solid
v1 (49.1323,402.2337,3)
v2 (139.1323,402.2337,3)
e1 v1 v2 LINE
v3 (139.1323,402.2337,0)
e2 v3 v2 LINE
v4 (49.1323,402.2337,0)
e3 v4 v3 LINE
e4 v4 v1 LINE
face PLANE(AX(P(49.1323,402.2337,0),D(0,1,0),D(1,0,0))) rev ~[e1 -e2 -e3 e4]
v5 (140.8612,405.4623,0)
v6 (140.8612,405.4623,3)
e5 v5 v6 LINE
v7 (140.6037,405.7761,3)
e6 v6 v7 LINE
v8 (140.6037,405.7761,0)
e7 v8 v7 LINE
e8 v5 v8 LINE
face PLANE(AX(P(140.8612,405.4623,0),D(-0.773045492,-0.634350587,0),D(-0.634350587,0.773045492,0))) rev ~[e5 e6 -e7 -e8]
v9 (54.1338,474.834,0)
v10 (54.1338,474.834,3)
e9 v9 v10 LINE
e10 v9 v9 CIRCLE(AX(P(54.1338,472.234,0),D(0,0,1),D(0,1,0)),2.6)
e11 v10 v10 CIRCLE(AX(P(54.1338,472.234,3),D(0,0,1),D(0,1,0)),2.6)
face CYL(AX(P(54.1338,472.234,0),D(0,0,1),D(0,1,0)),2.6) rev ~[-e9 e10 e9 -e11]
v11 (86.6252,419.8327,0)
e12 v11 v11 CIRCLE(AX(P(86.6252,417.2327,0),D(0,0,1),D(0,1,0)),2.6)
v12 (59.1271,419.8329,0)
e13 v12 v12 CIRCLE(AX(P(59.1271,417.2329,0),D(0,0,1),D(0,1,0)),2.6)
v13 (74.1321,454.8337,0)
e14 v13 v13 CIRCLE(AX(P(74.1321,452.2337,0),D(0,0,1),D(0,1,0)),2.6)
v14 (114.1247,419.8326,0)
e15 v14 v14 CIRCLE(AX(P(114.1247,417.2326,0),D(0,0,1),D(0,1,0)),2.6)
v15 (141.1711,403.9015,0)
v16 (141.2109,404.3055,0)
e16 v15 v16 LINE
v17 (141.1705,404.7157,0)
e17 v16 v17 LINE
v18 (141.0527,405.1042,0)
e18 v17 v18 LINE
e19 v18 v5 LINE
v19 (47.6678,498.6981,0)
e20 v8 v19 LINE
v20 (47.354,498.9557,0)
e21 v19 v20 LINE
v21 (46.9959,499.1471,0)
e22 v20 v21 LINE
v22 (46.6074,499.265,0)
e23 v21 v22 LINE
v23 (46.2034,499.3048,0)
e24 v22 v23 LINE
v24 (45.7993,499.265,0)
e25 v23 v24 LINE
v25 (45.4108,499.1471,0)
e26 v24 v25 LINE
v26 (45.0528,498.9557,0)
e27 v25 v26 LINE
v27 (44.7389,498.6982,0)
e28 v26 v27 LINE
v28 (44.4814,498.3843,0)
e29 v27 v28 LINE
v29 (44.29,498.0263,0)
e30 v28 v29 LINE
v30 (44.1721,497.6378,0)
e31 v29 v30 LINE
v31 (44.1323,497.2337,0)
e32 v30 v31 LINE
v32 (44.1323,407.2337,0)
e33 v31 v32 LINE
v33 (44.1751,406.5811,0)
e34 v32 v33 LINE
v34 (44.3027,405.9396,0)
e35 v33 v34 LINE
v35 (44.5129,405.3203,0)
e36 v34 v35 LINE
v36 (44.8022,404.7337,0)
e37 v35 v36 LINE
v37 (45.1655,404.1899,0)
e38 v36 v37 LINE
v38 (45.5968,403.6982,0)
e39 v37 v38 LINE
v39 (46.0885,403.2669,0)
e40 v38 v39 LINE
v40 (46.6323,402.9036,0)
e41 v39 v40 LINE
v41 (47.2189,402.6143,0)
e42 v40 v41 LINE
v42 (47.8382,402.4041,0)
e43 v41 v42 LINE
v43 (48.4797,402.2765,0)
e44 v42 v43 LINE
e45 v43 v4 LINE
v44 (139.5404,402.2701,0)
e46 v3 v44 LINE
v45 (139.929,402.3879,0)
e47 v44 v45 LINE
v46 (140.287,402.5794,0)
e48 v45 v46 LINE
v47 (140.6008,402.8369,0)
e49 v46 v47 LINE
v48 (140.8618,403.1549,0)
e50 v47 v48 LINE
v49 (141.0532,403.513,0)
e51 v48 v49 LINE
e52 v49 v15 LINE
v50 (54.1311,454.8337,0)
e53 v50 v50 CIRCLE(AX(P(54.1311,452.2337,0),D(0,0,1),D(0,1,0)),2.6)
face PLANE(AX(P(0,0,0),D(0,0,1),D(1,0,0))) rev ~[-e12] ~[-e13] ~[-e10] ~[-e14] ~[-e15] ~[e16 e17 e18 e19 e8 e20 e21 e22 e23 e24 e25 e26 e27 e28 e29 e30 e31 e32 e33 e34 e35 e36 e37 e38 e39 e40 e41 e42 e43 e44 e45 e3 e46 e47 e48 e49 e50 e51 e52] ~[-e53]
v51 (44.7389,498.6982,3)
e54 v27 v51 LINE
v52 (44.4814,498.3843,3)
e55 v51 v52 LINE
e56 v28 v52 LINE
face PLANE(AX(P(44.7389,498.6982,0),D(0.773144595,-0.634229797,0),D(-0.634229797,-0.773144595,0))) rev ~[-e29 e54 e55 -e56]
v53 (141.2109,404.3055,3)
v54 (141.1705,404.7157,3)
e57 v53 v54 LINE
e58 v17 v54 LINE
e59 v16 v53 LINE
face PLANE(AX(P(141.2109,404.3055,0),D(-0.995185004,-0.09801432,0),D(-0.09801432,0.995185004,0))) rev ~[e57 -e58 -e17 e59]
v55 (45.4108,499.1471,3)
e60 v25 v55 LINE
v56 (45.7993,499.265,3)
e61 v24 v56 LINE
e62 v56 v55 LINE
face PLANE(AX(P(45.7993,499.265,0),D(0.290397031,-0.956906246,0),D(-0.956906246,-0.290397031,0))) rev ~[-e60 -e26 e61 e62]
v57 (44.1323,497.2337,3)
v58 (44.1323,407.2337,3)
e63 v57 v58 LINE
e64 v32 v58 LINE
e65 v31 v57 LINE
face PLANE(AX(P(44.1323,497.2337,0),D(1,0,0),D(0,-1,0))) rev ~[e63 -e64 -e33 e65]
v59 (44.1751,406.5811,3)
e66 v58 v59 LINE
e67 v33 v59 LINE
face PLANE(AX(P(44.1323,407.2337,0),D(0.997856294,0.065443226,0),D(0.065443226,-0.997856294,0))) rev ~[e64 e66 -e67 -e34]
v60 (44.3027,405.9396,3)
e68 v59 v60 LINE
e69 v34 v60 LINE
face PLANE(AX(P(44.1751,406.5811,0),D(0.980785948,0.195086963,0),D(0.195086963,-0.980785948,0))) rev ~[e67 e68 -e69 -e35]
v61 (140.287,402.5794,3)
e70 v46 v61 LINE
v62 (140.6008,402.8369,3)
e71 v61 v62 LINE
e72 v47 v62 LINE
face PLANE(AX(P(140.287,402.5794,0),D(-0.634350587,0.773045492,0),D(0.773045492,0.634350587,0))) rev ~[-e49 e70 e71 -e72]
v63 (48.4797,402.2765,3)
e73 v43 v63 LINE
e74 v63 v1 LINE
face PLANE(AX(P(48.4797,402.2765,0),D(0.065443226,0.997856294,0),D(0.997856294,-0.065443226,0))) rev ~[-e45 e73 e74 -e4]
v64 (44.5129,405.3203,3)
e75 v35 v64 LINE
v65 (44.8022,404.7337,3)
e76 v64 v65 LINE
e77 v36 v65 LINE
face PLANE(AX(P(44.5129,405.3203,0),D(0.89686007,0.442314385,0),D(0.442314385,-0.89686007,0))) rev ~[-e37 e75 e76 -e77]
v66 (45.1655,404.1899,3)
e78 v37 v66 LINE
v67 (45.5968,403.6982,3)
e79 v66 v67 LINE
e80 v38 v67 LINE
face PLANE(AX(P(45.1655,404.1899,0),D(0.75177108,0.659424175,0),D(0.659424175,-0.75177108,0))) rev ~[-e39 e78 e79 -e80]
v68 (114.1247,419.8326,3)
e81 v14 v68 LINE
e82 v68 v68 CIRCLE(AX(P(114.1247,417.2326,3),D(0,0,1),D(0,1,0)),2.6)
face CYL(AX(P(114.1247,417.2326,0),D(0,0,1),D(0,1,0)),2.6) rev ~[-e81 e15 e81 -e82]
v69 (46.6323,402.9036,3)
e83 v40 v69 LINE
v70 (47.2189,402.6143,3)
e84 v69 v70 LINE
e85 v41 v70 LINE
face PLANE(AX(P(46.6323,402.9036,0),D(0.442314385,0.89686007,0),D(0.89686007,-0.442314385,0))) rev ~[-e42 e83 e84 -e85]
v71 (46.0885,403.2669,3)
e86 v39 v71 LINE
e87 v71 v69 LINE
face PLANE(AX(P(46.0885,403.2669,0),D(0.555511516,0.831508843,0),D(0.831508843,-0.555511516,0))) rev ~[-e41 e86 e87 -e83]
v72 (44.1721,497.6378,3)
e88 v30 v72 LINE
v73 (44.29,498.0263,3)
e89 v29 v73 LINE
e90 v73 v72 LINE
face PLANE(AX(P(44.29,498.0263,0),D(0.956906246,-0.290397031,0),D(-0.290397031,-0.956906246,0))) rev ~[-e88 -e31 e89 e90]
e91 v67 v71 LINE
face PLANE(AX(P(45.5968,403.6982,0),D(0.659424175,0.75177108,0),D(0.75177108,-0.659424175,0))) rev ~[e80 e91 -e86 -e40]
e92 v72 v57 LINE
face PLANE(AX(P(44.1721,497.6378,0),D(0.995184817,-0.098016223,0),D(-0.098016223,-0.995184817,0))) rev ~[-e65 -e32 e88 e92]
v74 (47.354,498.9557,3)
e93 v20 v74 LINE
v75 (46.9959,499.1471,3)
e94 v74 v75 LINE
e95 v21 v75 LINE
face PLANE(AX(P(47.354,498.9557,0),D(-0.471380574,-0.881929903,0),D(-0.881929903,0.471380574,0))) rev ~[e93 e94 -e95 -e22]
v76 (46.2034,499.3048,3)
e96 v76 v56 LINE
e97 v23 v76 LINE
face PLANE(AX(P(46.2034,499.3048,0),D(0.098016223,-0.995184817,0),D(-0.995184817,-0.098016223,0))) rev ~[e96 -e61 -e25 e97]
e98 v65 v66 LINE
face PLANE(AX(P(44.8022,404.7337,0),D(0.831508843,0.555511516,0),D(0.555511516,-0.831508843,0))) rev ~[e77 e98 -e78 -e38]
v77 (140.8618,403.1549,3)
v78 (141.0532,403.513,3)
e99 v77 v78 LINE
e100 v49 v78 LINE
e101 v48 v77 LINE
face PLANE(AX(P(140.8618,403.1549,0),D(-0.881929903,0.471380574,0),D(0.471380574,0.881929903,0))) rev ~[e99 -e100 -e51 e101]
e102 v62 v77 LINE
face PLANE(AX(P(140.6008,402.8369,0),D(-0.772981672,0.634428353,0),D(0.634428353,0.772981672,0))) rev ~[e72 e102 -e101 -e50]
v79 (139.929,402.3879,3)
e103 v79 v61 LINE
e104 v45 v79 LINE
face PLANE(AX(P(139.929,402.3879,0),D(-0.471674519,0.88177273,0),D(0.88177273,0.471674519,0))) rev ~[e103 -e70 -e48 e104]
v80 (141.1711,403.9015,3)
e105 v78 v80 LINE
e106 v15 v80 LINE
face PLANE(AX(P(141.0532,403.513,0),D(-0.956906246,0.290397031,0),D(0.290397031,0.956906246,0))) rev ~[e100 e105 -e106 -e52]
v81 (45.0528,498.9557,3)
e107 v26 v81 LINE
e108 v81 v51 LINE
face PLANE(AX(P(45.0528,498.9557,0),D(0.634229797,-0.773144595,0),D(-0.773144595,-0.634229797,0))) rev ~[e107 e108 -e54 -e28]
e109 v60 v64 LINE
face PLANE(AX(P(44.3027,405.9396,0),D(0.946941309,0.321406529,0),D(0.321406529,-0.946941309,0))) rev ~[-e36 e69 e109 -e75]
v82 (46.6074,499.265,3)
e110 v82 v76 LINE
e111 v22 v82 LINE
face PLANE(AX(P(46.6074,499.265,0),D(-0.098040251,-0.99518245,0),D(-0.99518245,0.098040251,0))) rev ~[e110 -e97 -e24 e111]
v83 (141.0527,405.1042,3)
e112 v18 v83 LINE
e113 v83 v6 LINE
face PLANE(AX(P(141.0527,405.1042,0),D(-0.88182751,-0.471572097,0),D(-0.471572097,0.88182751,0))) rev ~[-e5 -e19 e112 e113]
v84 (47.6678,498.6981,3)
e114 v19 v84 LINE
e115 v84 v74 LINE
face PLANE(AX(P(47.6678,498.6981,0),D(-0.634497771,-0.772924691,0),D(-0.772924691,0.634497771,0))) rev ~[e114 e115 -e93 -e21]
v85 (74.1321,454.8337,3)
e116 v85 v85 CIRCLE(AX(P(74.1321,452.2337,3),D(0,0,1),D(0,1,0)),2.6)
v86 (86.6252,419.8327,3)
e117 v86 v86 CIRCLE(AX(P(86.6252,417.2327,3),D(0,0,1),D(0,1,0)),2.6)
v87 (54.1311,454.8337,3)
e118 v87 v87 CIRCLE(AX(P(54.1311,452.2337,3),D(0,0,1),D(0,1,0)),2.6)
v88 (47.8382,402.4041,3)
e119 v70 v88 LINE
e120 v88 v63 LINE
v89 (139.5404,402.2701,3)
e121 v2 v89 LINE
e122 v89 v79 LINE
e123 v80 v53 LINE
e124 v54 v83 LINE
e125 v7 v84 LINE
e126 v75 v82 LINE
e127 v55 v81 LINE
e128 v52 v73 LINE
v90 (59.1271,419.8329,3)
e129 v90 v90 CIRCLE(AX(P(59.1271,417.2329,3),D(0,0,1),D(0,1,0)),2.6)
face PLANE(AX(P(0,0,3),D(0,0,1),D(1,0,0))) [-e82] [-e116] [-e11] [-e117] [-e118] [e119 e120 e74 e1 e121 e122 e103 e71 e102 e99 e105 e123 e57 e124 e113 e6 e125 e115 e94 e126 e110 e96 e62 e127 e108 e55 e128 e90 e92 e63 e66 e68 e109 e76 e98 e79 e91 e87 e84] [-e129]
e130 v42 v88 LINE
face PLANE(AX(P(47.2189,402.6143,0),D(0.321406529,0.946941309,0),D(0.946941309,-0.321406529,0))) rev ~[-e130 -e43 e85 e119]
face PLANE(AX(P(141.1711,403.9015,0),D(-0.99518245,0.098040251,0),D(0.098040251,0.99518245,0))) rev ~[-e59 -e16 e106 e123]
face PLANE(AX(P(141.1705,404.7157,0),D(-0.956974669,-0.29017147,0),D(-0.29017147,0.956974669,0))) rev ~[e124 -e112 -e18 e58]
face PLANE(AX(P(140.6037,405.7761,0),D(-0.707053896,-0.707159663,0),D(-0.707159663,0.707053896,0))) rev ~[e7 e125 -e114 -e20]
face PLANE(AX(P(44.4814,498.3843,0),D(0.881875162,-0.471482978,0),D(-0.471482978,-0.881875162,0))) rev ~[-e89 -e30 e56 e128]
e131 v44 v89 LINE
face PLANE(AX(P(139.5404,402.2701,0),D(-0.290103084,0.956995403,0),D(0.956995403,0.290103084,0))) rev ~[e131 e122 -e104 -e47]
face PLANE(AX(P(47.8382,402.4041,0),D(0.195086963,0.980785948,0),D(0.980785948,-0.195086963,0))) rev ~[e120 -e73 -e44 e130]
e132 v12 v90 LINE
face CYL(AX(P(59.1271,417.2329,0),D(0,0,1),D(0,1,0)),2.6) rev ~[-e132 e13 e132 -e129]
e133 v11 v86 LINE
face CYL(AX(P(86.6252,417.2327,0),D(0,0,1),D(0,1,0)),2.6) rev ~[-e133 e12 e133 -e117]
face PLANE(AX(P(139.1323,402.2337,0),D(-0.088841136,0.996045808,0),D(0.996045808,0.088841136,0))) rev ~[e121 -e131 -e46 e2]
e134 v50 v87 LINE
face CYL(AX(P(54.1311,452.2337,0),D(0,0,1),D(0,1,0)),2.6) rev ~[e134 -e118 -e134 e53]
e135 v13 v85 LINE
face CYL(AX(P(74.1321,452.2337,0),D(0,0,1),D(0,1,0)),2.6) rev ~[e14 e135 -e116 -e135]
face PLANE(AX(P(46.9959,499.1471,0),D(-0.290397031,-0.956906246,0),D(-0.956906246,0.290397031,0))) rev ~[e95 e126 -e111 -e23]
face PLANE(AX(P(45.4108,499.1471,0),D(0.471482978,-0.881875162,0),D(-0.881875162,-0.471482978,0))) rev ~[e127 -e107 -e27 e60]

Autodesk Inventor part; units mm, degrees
ref_plane "YZ Plane" through (0, 0, 0) normal (1, 0, 0) x (0, 1, 0)
ref_plane "XZ Plane" through (0, 0, 0) normal (0, 1, 0) x (-1, 0, 0)
ref_plane "XY Plane" through (0, 0, 0) normal (0, 0, 1) x (1, 0, 0)
sketch "Sketch1" plane through (0, 0, 0) normal (0, 0, 1) x (1, 0, 0)
  line L0 (141.1705, 404.7157) -> (141.0527, 405.1042)
  line L1 (141.0527, 405.1042) -> (140.8612, 405.4623)
  line L2 (140.8612, 405.4623) -> (140.6037, 405.7761)
  line L3 (140.6037, 405.7761) -> (47.6678, 498.6981)
  line L4 (47.6678, 498.6981) -> (47.354, 498.9557)
  line L5 (47.354, 498.9557) -> (46.9959, 499.1471)
  line L6 (46.9959, 499.1471) -> (46.6074, 499.265)
  line L7 (46.6074, 499.265) -> (46.2034, 499.3048)
  line L8 (46.2034, 499.3048) -> (45.7993, 499.265)
  line L9 (45.7993, 499.265) -> (45.4108, 499.1471)
  line L10 (45.4108, 499.1471) -> (45.0528, 498.9557)
  line L11 (45.0528, 498.9557) -> (44.7389, 498.6982)
  line L12 (44.7389, 498.6982) -> (44.4814, 498.3843)
  line L13 (44.4814, 498.3843) -> (44.29, 498.0263)
  line L14 (44.29, 498.0263) -> (44.1721, 497.6378)
  line L15 (44.1721, 497.6378) -> (44.1323, 497.2337)
  line L16 (44.1323, 497.2337) -> (44.1323, 407.2337)
  line L17 (44.1323, 407.2337) -> (44.1751, 406.5811)
  line L18 (44.1751, 406.5811) -> (44.3027, 405.9396)
  line L19 (44.3027, 405.9396) -> (44.5129, 405.3203)
  line L20 (44.5129, 405.3203) -> (44.8022, 404.7337)
  line L21 (44.8022, 404.7337) -> (45.1655, 404.1899)
  line L22 (45.1655, 404.1899) -> (45.5968, 403.6982)
  line L23 (45.5968, 403.6982) -> (46.0885, 403.2669)
  line L24 (46.0885, 403.2669) -> (46.6323, 402.9036)
  line L25 (46.6323, 402.9036) -> (47.2189, 402.6143)
  line L26 (47.2189, 402.6143) -> (47.8382, 402.4041)
  line L27 (47.8382, 402.4041) -> (48.4797, 402.2765)
  line L28 (48.4797, 402.2765) -> (49.1323, 402.2337)
  line L29 (49.1323, 402.2337) -> (139.1323, 402.2337)
  line L30 (139.1323, 402.2337) -> (139.5404, 402.2701)
  line L31 (139.5404, 402.2701) -> (139.929, 402.3879)
  line L32 (139.929, 402.3879) -> (140.287, 402.5794)
  line L33 (140.287, 402.5794) -> (140.6008, 402.8369)
  line L34 (140.6008, 402.8369) -> (140.8618, 403.1549)
  line L35 (140.8618, 403.1549) -> (141.0532, 403.513)
  line L36 (141.0532, 403.513) -> (141.1711, 403.9015)
  line L37 (141.1711, 403.9015) -> (141.2109, 404.3055)
  line L38 (141.2109, 404.3055) -> (141.1705, 404.7157)
  line L39 (89.0593, 417.8849) -> (88.8076, 418.4926)
  line L40 (88.8076, 418.4926) -> (88.4071, 419.0145)
  line L41 (88.4071, 419.0145) -> (87.8852, 419.415)
  line L42 (87.8852, 419.415) -> (87.2774, 419.6668)
  line L43 (87.2774, 419.6668) -> (86.6252, 419.7526)
  line L44 (86.6252, 419.7526) -> (85.973, 419.6669)
  line L45 (85.973, 419.6669) -> (85.3652, 419.4151)
  line L46 (85.3652, 419.4151) -> (84.8433, 419.0147)
  line L47 (84.8433, 419.0147) -> (84.4428, 418.4928)
  line L48 (84.4428, 418.4928) -> (84.1911, 417.885)
  line L49 (84.1911, 417.885) -> (84.1052, 417.2328)
  line L50 (84.1052, 417.2328) -> (84.191, 416.5805)
  line L51 (84.191, 416.5805) -> (84.4427, 415.9728)
  line L52 (84.4427, 415.9728) -> (84.8432, 415.4509)
  line L53 (84.8432, 415.4509) -> (85.3651, 415.0503)
  line L54 (85.3651, 415.0503) -> (85.9728, 414.7986)
  line L55 (85.9728, 414.7986) -> (86.6251, 414.7128)
  line L56 (86.6251, 414.7128) -> (87.2773, 414.7985)
  line L57 (87.2773, 414.7985) -> (87.8851, 415.0503)
  line L58 (87.8851, 415.0503) -> (88.407, 415.4507)
  line L59 (88.407, 415.4507) -> (88.8075, 415.9726)
  line L60 (88.8075, 415.9726) -> (89.0592, 416.5803)
  line L61 (89.0592, 416.5803) -> (89.1451, 417.2326)
  line L62 (89.1451, 417.2326) -> (89.0593, 417.8849)
  line L63 (61.5613, 417.885) -> (61.3095, 418.4929)
  line L64 (61.3095, 418.4929) -> (60.9091, 419.0148)
  line L65 (60.9091, 419.0148) -> (60.3872, 419.4153)
  line L66 (60.3872, 419.4153) -> (59.7794, 419.667)
  line L67 (59.7794, 419.667) -> (59.1271, 419.7529)
  line L68 (59.1271, 419.7529) -> (58.4749, 419.6671)
  line L69 (58.4749, 419.6671) -> (57.8671, 419.4154)
  line L70 (57.8671, 419.4154) -> (57.3452, 419.0149)
  line L71 (57.3452, 419.0149) -> (56.9447, 418.493)
  line L72 (56.9447, 418.493) -> (56.693, 417.8853)
  line L73 (56.693, 417.8853) -> (56.6071, 417.233)
  line L74 (56.6071, 417.233) -> (56.6929, 416.5808)
  line L75 (56.6929, 416.5808) -> (56.9446, 415.973)
  line L76 (56.9446, 415.973) -> (57.3451, 415.4511)
  line L77 (57.3451, 415.4511) -> (57.867, 415.0506)
  line L78 (57.867, 415.0506) -> (58.4748, 414.7989)
  line L79 (58.4748, 414.7989) -> (59.127, 414.713)
  line L80 (59.127, 414.713) -> (59.7792, 414.7988)
  line L81 (59.7792, 414.7988) -> (60.387, 415.0505)
  line L82 (60.387, 415.0505) -> (60.9089, 415.451)
  line L83 (60.9089, 415.451) -> (61.3094, 415.9729)
  line L84 (61.3094, 415.9729) -> (61.5611, 416.5806)
  line L85 (61.5611, 416.5806) -> (61.647, 417.233)
  line L86 (61.647, 417.233) -> (61.5613, 417.885)
  line L87 (56.5942, 452.8937) -> (56.3395, 453.5086)
  line L88 (56.3395, 453.5086) -> (55.9343, 454.0367)
  line L89 (55.9343, 454.0367) -> (55.4062, 454.4419)
  line L90 (55.4062, 454.4419) -> (54.7911, 454.6967)
  line L91 (54.7911, 454.6967) -> (54.1311, 454.7836)
  line L92 (54.1311, 454.7836) -> (53.4711, 454.6968)
  line L93 (53.4711, 454.6968) -> (52.8561, 454.4421)
  line L94 (52.8561, 454.4421) -> (52.328, 454.0368)
  line L95 (52.328, 454.0368) -> (51.9227, 453.5087)
  line L96 (51.9227, 453.5087) -> (51.668, 452.8937)
  line L97 (51.668, 452.8937) -> (51.5811, 452.2338)
  line L98 (51.5811, 452.2338) -> (51.6679, 451.5738)
  line L99 (51.6679, 451.5738) -> (51.9226, 450.9587)
  line L100 (51.9226, 450.9587) -> (52.3279, 450.4306)
  line L101 (52.3279, 450.4306) -> (52.856, 450.0253)
  line L102 (52.856, 450.0253) -> (53.471, 449.7706)
  line L103 (53.471, 449.7706) -> (54.131, 449.6837)
  line L104 (54.131, 449.6837) -> (54.791, 449.7705)
  line L105 (54.791, 449.7705) -> (55.406, 450.0252)
  line L106 (55.406, 450.0252) -> (55.9341, 450.4305)
  line L107 (55.9341, 450.4305) -> (56.3394, 450.9586)
  line L108 (56.3394, 450.9586) -> (56.5941, 451.5736)
  line L109 (56.5941, 451.5736) -> (56.681, 452.2337)
  line L110 (56.681, 452.2337) -> (56.5942, 452.8937)
  line L111 (56.597, 472.894) -> (56.3423, 473.509)
  line L112 (56.3423, 473.509) -> (55.9371, 474.0371)
  line L113 (55.9371, 474.0371) -> (55.409, 474.4424)
  line L114 (55.409, 474.4424) -> (54.794, 474.6971)
  line L115 (54.794, 474.6971) -> (54.1339, 474.784)
  line L116 (54.1339, 474.784) -> (53.4739, 474.6972)
  line L117 (53.4739, 474.6972) -> (52.8589, 474.4425)
  line L118 (52.8589, 474.4425) -> (52.3308, 474.0372)
  line L119 (52.3308, 474.0372) -> (51.9255, 473.5091)
  line L120 (51.9255, 473.5091) -> (51.6708, 472.8941)
  line L121 (51.6708, 472.8941) -> (51.5839, 472.2341)
  line L122 (51.5839, 472.2341) -> (51.6707, 471.5741)
  line L123 (51.6707, 471.5741) -> (51.9254, 470.9591)
  line L124 (51.9254, 470.9591) -> (52.3307, 470.431)
  line L125 (52.3307, 470.431) -> (52.8588, 470.0257)
  line L126 (52.8588, 470.0257) -> (53.4738, 469.771)
  line L127 (53.4738, 469.771) -> (54.1337, 469.6841)
  line L128 (54.1337, 469.6841) -> (54.7938, 469.7709)
  line L129 (54.7938, 469.7709) -> (55.4087, 470.0256)
  line L130 (55.4087, 470.0256) -> (55.9369, 470.4309)
  line L131 (55.9369, 470.4309) -> (56.3422, 470.959)
  line L132 (56.3422, 470.959) -> (56.5969, 471.574)
  line L133 (56.5969, 471.574) -> (56.6838, 472.2341)
  line L134 (56.6838, 472.2341) -> (56.597, 472.894)
  line L135 (76.5952, 452.8937) -> (76.3405, 453.5086)
  line L136 (76.3405, 453.5086) -> (75.9352, 454.0368)
  line L137 (75.9352, 454.0368) -> (75.4071, 454.442)
  line L138 (75.4071, 454.442) -> (74.7921, 454.6968)
  line L139 (74.7921, 454.6968) -> (74.1322, 454.7837)
  line L140 (74.1322, 454.7837) -> (73.4722, 454.6969)
  line L141 (73.4722, 454.6969) -> (72.8571, 454.4421)
  line L142 (72.8571, 454.4421) -> (72.329, 454.0369)
  line L143 (72.329, 454.0369) -> (71.9237, 453.5088)
  line L144 (71.9237, 453.5088) -> (71.669, 452.8938)
  line L145 (71.669, 452.8938) -> (71.5821, 452.2338)
  line L146 (71.5821, 452.2338) -> (71.6689, 451.5738)
  line L147 (71.6689, 451.5738) -> (71.9237, 450.9588)
  line L148 (71.9237, 450.9588) -> (72.3289, 450.4307)
  line L149 (72.3289, 450.4307) -> (72.857, 450.0254)
  line L150 (72.857, 450.0254) -> (73.472, 449.7706)
  line L151 (73.472, 449.7706) -> (74.132, 449.6838)
  line L152 (74.132, 449.6838) -> (74.792, 449.7705)
  line L153 (74.792, 449.7705) -> (75.407, 450.0253)
  line L154 (75.407, 450.0253) -> (75.9352, 450.4305)
  line L155 (75.9352, 450.4305) -> (76.3404, 450.9586)
  line L156 (76.3404, 450.9586) -> (76.5952, 451.5736)
  line L157 (76.5952, 451.5736) -> (76.682, 452.2334)
  line L158 (76.682, 452.2334) -> (76.5952, 452.8937)
  line L159 (116.5587, 417.8849) -> (116.307, 418.4926)
  line L160 (116.307, 418.4926) -> (115.9066, 419.0145)
  line L161 (115.9066, 419.0145) -> (115.3847, 419.415)
  line L162 (115.3847, 419.415) -> (114.7769, 419.6667)
  line L163 (114.7769, 419.6667) -> (114.1247, 419.7526)
  line L164 (114.1247, 419.7526) -> (113.4724, 419.6668)
  line L165 (113.4724, 419.6668) -> (112.8647, 419.415)
  line L166 (112.8647, 419.415) -> (112.3428, 419.0146)
  line L167 (112.3428, 419.0146) -> (111.9423, 418.4927)
  line L168 (111.9423, 418.4927) -> (111.6905, 417.8849)
  line L169 (111.6905, 417.8849) -> (111.6047, 417.2327)
  line L170 (111.6047, 417.2327) -> (111.6904, 416.5804)
  line L171 (111.6904, 416.5804) -> (111.9422, 415.9727)
  line L172 (111.9422, 415.9727) -> (112.3426, 415.4508)
  line L173 (112.3426, 415.4508) -> (112.8645, 415.0503)
  line L174 (112.8645, 415.0503) -> (113.4723, 414.7986)
  line L175 (113.4723, 414.7986) -> (114.1246, 414.7127)
  line L176 (114.1246, 414.7127) -> (114.7768, 414.7985)
  line L177 (114.7768, 414.7985) -> (115.3846, 415.0502)
  line L178 (115.3846, 415.0502) -> (115.9065, 415.4507)
  line L179 (115.9065, 415.4507) -> (116.307, 415.9726)
  line L180 (116.307, 415.9726) -> (116.5587, 416.5802)
  line L181 (116.5587, 416.5802) -> (116.6445, 417.2325)
  line L182 (116.6445, 417.2325) -> (116.5587, 417.8849)
  point P0 (0, 0)
extrude "Extrusion1" add sketch "Sketch1" along normal blind 3
sketch "Sketch2" plane through (0, 0, 0) normal (0, 0, -1) x (-1, 0, 0)
  line L0 (-56.6838, 472.2341) -> (-56.597, 472.894) projected
  line L1 (-56.597, 472.894) -> (-56.3423, 473.509) projected
  line L2 (-56.3423, 473.509) -> (-55.9371, 474.0371) projected
  line L3 (-55.9371, 474.0371) -> (-55.409, 474.4424) projected
  line L4 (-55.409, 474.4424) -> (-54.794, 474.6971) projected
  line L5 (-54.794, 474.6971) -> (-54.1339, 474.784) projected
  line L6 (-54.1339, 474.784) -> (-53.4739, 474.6972) projected
  line L7 (-53.4739, 474.6972) -> (-52.8589, 474.4425) projected
  line L8 (-52.8589, 474.4425) -> (-52.3308, 474.0372) projected
  line L9 (-52.3308, 474.0372) -> (-51.9255, 473.5091) projected
  line L10 (-51.9255, 473.5091) -> (-51.6708, 472.8941) projected
  line L11 (-51.6708, 472.8941) -> (-51.5839, 472.2341) projected
  line L12 (-51.5839, 472.2341) -> (-51.6707, 471.5741) projected
  line L13 (-51.6707, 471.5741) -> (-51.9254, 470.9591) projected
  line L14 (-51.9254, 470.9591) -> (-52.3307, 470.431) projected
  line L15 (-52.3307, 470.431) -> (-52.8588, 470.0257) projected
  line L16 (-52.8588, 470.0257) -> (-53.4738, 469.771) projected
  line L17 (-53.4738, 469.771) -> (-54.1337, 469.6841) projected
  line L18 (-54.1337, 469.6841) -> (-54.7938, 469.7709) projected
  line L19 (-54.7938, 469.7709) -> (-55.4087, 470.0256) projected
  line L20 (-55.4087, 470.0256) -> (-55.9369, 470.4309) projected
  line L21 (-55.9369, 470.4309) -> (-56.3422, 470.959) projected
  line L22 (-56.3422, 470.959) -> (-56.5969, 471.574) projected
  line L23 (-56.5969, 471.574) -> (-56.6838, 472.2341) projected
  line L24 (-76.682, 452.2334) -> (-76.5952, 452.8937) projected
  line L25 (-76.5952, 452.8937) -> (-76.3405, 453.5086) projected
  line L26 (-76.3405, 453.5086) -> (-75.9352, 454.0368) projected
  line L27 (-75.9352, 454.0368) -> (-75.4071, 454.442) projected
  line L28 (-75.4071, 454.442) -> (-74.7921, 454.6968) projected
  line L29 (-74.7921, 454.6968) -> (-74.1322, 454.7837) projected
  line L30 (-74.1322, 454.7837) -> (-73.4722, 454.6969) projected
  line L31 (-73.4722, 454.6969) -> (-72.8571, 454.4421) projected
  line L32 (-72.8571, 454.4421) -> (-72.329, 454.0369) projected
  line L33 (-72.329, 454.0369) -> (-71.9237, 453.5088) projected
  line L34 (-71.9237, 453.5088) -> (-71.669, 452.8938) projected
  line L35 (-71.669, 452.8938) -> (-71.5821, 452.2338) projected
  line L36 (-71.5821, 452.2338) -> (-71.6689, 451.5738) projected
  line L37 (-71.6689, 451.5738) -> (-71.9237, 450.9588) projected
  line L38 (-71.9237, 450.9588) -> (-72.3289, 450.4307) projected
  line L39 (-72.3289, 450.4307) -> (-72.857, 450.0254) projected
  line L40 (-72.857, 450.0254) -> (-73.472, 449.7706) projected
  line L41 (-73.472, 449.7706) -> (-74.132, 449.6838) projected
  line L42 (-74.132, 449.6838) -> (-74.792, 449.7705) projected
  line L43 (-74.792, 449.7705) -> (-75.407, 450.0253) projected
  line L44 (-75.407, 450.0253) -> (-75.9352, 450.4305) projected
  line L45 (-75.9352, 450.4305) -> (-76.3404, 450.9586) projected
  line L46 (-76.3404, 450.9586) -> (-76.5952, 451.5736) projected
  line L47 (-76.5952, 451.5736) -> (-76.682, 452.2334) projected
  line L48 (-56.681, 452.2337) -> (-56.5942, 452.8937) projected
  line L49 (-56.5942, 452.8937) -> (-56.3395, 453.5086) projected
  line L50 (-56.3395, 453.5086) -> (-55.9343, 454.0367) projected
  line L51 (-55.9343, 454.0367) -> (-55.4062, 454.4419) projected
  line L52 (-55.4062, 454.4419) -> (-54.7911, 454.6967) projected
  line L53 (-54.7911, 454.6967) -> (-54.1311, 454.7836) projected
  line L54 (-54.1311, 454.7836) -> (-53.4711, 454.6968) projected
  line L55 (-53.4711, 454.6968) -> (-52.8561, 454.4421) projected
  line L56 (-52.8561, 454.4421) -> (-52.328, 454.0368) projected
  line L57 (-52.328, 454.0368) -> (-51.9227, 453.5087) projected
  line L58 (-51.9227, 453.5087) -> (-51.668, 452.8937) projected
  line L59 (-51.668, 452.8937) -> (-51.5811, 452.2338) projected
  line L60 (-51.5811, 452.2338) -> (-51.6679, 451.5738) projected
  line L61 (-51.6679, 451.5738) -> (-51.9226, 450.9587) projected
  line L62 (-51.9226, 450.9587) -> (-52.3279, 450.4306) projected
  line L63 (-52.3279, 450.4306) -> (-52.856, 450.0253) projected
  line L64 (-52.856, 450.0253) -> (-53.471, 449.7706) projected
  line L65 (-53.471, 449.7706) -> (-54.131, 449.6837) projected
  line L66 (-54.131, 449.6837) -> (-54.791, 449.7705) projected
  line L67 (-54.791, 449.7705) -> (-55.406, 450.0252) projected
  line L68 (-55.406, 450.0252) -> (-55.9341, 450.4305) projected
  line L69 (-55.9341, 450.4305) -> (-56.3394, 450.9586) projected
  line L70 (-56.3394, 450.9586) -> (-56.5941, 451.5736) projected
  line L71 (-56.5941, 451.5736) -> (-56.681, 452.2337) projected
  line L72 (-89.1451, 417.2326) -> (-89.0593, 417.8849) projected
  line L73 (-89.0593, 417.8849) -> (-88.8076, 418.4926) projected
  line L74 (-88.8076, 418.4926) -> (-88.4071, 419.0145) projected
  line L75 (-88.4071, 419.0145) -> (-87.8852, 419.415) projected
  line L76 (-87.8852, 419.415) -> (-87.2774, 419.6668) projected
  line L77 (-87.2774, 419.6668) -> (-86.6252, 419.7526) projected
  line L78 (-86.6252, 419.7526) -> (-85.973, 419.6669) projected
  line L79 (-85.973, 419.6669) -> (-85.3652, 419.4151) projected
  line L80 (-85.3652, 419.4151) -> (-84.8433, 419.0147) projected
  line L81 (-84.8433, 419.0147) -> (-84.4428, 418.4928) projected
  line L82 (-84.4428, 418.4928) -> (-84.1911, 417.885) projected
  line L83 (-84.1911, 417.885) -> (-84.1052, 417.2328) projected
  line L84 (-84.1052, 417.2328) -> (-84.191, 416.5805) projected
  line L85 (-84.191, 416.5805) -> (-84.4427, 415.9728) projected
  line L86 (-84.4427, 415.9728) -> (-84.8432, 415.4509) projected
  line L87 (-84.8432, 415.4509) -> (-85.3651, 415.0503) projected
  line L88 (-85.3651, 415.0503) -> (-85.9728, 414.7986) projected
  line L89 (-85.9728, 414.7986) -> (-86.6251, 414.7128) projected
  line L90 (-86.6251, 414.7128) -> (-87.2773, 414.7985) projected
  line L91 (-87.2773, 414.7985) -> (-87.8851, 415.0503) projected
  line L92 (-87.8851, 415.0503) -> (-88.407, 415.4507) projected
  line L93 (-88.407, 415.4507) -> (-88.8075, 415.9726) projected
  line L94 (-88.8075, 415.9726) -> (-89.0592, 416.5803) projected
  line L95 (-89.0592, 416.5803) -> (-89.1451, 417.2326) projected
  line L96 (-61.647, 417.233) -> (-61.5613, 417.885) projected
  line L97 (-61.5613, 417.885) -> (-61.3095, 418.4929) projected
  line L98 (-61.3095, 418.4929) -> (-60.9091, 419.0148) projected
  line L99 (-60.9091, 419.0148) -> (-60.3872, 419.4153) projected
  line L100 (-60.3872, 419.4153) -> (-59.7794, 419.667) projected
  line L101 (-59.7794, 419.667) -> (-59.1271, 419.7529) projected
  line L102 (-59.1271, 419.7529) -> (-58.4749, 419.6671) projected
  line L103 (-58.4749, 419.6671) -> (-57.8671, 419.4154) projected
  line L104 (-57.8671, 419.4154) -> (-57.3452, 419.0149) projected
  line L105 (-57.3452, 419.0149) -> (-56.9447, 418.493) projected
  line L106 (-56.9447, 418.493) -> (-56.693, 417.8853) projected
  line L107 (-56.693, 417.8853) -> (-56.6071, 417.233) projected
  line L108 (-56.6071, 417.233) -> (-56.6929, 416.5808) projected
  line L109 (-56.6929, 416.5808) -> (-56.9446, 415.973) projected
  line L110 (-56.9446, 415.973) -> (-57.3451, 415.4511) projected
  line L111 (-57.3451, 415.4511) -> (-57.867, 415.0506) projected
  line L112 (-57.867, 415.0506) -> (-58.4748, 414.7989) projected
  line L113 (-58.4748, 414.7989) -> (-59.127, 414.713) projected
  line L114 (-59.127, 414.713) -> (-59.7792, 414.7988) projected
  line L115 (-59.7792, 414.7988) -> (-60.387, 415.0505) projected
  line L116 (-60.387, 415.0505) -> (-60.9089, 415.451) projected
  line L117 (-60.9089, 415.451) -> (-61.3094, 415.9729) projected
  line L118 (-61.3094, 415.9729) -> (-61.5611, 416.5806) projected
  line L119 (-61.5611, 416.5806) -> (-61.647, 417.233) projected
  line L120 (-116.6445, 417.2325) -> (-116.5587, 417.8849) projected
  line L121 (-116.5587, 417.8849) -> (-116.307, 418.4926) projected
  line L122 (-116.307, 418.4926) -> (-115.9066, 419.0145) projected
  line L123 (-115.9066, 419.0145) -> (-115.3847, 419.415) projected
  line L124 (-115.3847, 419.415) -> (-114.7769, 419.6667) projected
  line L125 (-114.7769, 419.6667) -> (-114.1247, 419.7526) projected
  line L126 (-114.1247, 419.7526) -> (-113.4724, 419.6668) projected
  line L127 (-113.4724, 419.6668) -> (-112.8647, 419.415) projected
  line L128 (-112.8647, 419.415) -> (-112.3428, 419.0146) projected
  line L129 (-112.3428, 419.0146) -> (-111.9423, 418.4927) projected
  line L130 (-111.9423, 418.4927) -> (-111.6905, 417.8849) projected
  line L131 (-111.6905, 417.8849) -> (-111.6047, 417.2327) projected
  line L132 (-111.6047, 417.2327) -> (-111.6904, 416.5804) projected
  line L133 (-111.6904, 416.5804) -> (-111.9422, 415.9727) projected
  line L134 (-111.9422, 415.9727) -> (-112.3426, 415.4508) projected
  line L135 (-112.3426, 415.4508) -> (-112.8645, 415.0503) projected
  line L136 (-112.8645, 415.0503) -> (-113.4723, 414.7986) projected
  line L137 (-113.4723, 414.7986) -> (-114.1246, 414.7127) projected
  line L138 (-114.1246, 414.7127) -> (-114.7768, 414.7985) projected
  line L139 (-114.7768, 414.7985) -> (-115.3846, 415.0502) projected
  line L140 (-115.3846, 415.0502) -> (-115.9065, 415.4507) projected
  line L141 (-115.9065, 415.4507) -> (-116.307, 415.9726) projected
  line L142 (-116.307, 415.9726) -> (-116.5587, 416.5802) projected
  line L143 (-116.5587, 416.5802) -> (-116.6445, 417.2325) projected
  line L144 (-141.1705, 404.7157) -> (-141.0527, 405.1042) projected
  line L145 (-141.2109, 404.3055) -> (-141.1705, 404.7157) projected
  line L146 (-141.1711, 403.9015) -> (-141.2109, 404.3055) projected
  line L147 (-141.0532, 403.513) -> (-141.1711, 403.9015) projected
  line L148 (-140.8618, 403.1549) -> (-141.0532, 403.513) projected
  line L149 (-140.6008, 402.8369) -> (-140.8618, 403.1549) projected
  line L150 (-140.287, 402.5794) -> (-140.6008, 402.8369) projected
  line L151 (-139.929, 402.3879) -> (-140.287, 402.5794) projected
  line L152 (-139.5404, 402.2701) -> (-139.929, 402.3879) projected
  line L153 (-139.1323, 402.2337) -> (-139.5404, 402.2701) projected
  line L154 (-49.1323, 402.2337) -> (-139.1323, 402.2337) projected
  line L155 (-48.4797, 402.2765) -> (-49.1323, 402.2337) projected
  line L156 (-47.8382, 402.4041) -> (-48.4797, 402.2765) projected
  line L157 (-47.2189, 402.6143) -> (-47.8382, 402.4041) projected
  line L158 (-46.6323, 402.9036) -> (-47.2189, 402.6143) projected
  line L159 (-46.0885, 403.2669) -> (-46.6323, 402.9036) projected
  line L160 (-45.5968, 403.6982) -> (-46.0885, 403.2669) projected
  line L161 (-45.1655, 404.1899) -> (-45.5968, 403.6982) projected
  line L162 (-44.8022, 404.7337) -> (-45.1655, 404.1899) projected
  line L163 (-44.5129, 405.3203) -> (-44.8022, 404.7337) projected
  line L164 (-44.3027, 405.9396) -> (-44.5129, 405.3203) projected
  line L165 (-44.1751, 406.5811) -> (-44.3027, 405.9396) projected
  line L166 (-44.1323, 407.2337) -> (-44.1751, 406.5811) projected
  line L167 (-44.1323, 497.2337) -> (-44.1323, 407.2337) projected
  line L168 (-44.1721, 497.6378) -> (-44.1323, 497.2337) projected
  line L169 (-44.29, 498.0263) -> (-44.1721, 497.6378) projected
  line L170 (-44.4814, 498.3843) -> (-44.29, 498.0263) projected
  line L171 (-44.7389, 498.6982) -> (-44.4814, 498.3843) projected
  line L172 (-45.0528, 498.9557) -> (-44.7389, 498.6982) projected
  line L173 (-45.4108, 499.1471) -> (-45.0528, 498.9557) projected
  line L174 (-45.7993, 499.265) -> (-45.4108, 499.1471) projected
  line L175 (-46.2034, 499.3048) -> (-45.7993, 499.265) projected
  line L176 (-46.6074, 499.265) -> (-46.2034, 499.3048) projected
  line L177 (-46.9959, 499.1471) -> (-46.6074, 499.265) projected
  line L178 (-47.354, 498.9557) -> (-46.9959, 499.1471) projected
  line L179 (-47.6678, 498.6981) -> (-47.354, 498.9557) projected
  line L180 (-140.6037, 405.7761) -> (-47.6678, 498.6981) projected
  line L181 (-140.8612, 405.4623) -> (-140.6037, 405.7761) projected
  line L182 (-141.0527, 405.1042) -> (-140.8612, 405.4623) projected
  circle A0 centre (-54.1338, 472.234) radius 2.5282
  circle A1 centre (-54.1311, 452.2337) radius 2.5282
  circle A2 centre (-74.1321, 452.2337) radius 2.5282
  circle A3 centre (-86.6252, 417.2327) radius 2.4985
  circle A4 centre (-114.1247, 417.2326) radius 2.4984
  circle A5 centre (-59.1271, 417.2329) radius 2.4984
  point P0 (0, 0)
hole "Hole1" at (114.1247, 417.2326, 0) at (86.6252, 417.2327, 0) at (59.1271, 417.2329, 0) at (54.1311, 452.2337, 0) at (74.1321, 452.2337, 0) at (54.1338, 472.234, 0) direction (0, 0, 1) diameter 5.2 end through all
properties part number "Side Brace"
